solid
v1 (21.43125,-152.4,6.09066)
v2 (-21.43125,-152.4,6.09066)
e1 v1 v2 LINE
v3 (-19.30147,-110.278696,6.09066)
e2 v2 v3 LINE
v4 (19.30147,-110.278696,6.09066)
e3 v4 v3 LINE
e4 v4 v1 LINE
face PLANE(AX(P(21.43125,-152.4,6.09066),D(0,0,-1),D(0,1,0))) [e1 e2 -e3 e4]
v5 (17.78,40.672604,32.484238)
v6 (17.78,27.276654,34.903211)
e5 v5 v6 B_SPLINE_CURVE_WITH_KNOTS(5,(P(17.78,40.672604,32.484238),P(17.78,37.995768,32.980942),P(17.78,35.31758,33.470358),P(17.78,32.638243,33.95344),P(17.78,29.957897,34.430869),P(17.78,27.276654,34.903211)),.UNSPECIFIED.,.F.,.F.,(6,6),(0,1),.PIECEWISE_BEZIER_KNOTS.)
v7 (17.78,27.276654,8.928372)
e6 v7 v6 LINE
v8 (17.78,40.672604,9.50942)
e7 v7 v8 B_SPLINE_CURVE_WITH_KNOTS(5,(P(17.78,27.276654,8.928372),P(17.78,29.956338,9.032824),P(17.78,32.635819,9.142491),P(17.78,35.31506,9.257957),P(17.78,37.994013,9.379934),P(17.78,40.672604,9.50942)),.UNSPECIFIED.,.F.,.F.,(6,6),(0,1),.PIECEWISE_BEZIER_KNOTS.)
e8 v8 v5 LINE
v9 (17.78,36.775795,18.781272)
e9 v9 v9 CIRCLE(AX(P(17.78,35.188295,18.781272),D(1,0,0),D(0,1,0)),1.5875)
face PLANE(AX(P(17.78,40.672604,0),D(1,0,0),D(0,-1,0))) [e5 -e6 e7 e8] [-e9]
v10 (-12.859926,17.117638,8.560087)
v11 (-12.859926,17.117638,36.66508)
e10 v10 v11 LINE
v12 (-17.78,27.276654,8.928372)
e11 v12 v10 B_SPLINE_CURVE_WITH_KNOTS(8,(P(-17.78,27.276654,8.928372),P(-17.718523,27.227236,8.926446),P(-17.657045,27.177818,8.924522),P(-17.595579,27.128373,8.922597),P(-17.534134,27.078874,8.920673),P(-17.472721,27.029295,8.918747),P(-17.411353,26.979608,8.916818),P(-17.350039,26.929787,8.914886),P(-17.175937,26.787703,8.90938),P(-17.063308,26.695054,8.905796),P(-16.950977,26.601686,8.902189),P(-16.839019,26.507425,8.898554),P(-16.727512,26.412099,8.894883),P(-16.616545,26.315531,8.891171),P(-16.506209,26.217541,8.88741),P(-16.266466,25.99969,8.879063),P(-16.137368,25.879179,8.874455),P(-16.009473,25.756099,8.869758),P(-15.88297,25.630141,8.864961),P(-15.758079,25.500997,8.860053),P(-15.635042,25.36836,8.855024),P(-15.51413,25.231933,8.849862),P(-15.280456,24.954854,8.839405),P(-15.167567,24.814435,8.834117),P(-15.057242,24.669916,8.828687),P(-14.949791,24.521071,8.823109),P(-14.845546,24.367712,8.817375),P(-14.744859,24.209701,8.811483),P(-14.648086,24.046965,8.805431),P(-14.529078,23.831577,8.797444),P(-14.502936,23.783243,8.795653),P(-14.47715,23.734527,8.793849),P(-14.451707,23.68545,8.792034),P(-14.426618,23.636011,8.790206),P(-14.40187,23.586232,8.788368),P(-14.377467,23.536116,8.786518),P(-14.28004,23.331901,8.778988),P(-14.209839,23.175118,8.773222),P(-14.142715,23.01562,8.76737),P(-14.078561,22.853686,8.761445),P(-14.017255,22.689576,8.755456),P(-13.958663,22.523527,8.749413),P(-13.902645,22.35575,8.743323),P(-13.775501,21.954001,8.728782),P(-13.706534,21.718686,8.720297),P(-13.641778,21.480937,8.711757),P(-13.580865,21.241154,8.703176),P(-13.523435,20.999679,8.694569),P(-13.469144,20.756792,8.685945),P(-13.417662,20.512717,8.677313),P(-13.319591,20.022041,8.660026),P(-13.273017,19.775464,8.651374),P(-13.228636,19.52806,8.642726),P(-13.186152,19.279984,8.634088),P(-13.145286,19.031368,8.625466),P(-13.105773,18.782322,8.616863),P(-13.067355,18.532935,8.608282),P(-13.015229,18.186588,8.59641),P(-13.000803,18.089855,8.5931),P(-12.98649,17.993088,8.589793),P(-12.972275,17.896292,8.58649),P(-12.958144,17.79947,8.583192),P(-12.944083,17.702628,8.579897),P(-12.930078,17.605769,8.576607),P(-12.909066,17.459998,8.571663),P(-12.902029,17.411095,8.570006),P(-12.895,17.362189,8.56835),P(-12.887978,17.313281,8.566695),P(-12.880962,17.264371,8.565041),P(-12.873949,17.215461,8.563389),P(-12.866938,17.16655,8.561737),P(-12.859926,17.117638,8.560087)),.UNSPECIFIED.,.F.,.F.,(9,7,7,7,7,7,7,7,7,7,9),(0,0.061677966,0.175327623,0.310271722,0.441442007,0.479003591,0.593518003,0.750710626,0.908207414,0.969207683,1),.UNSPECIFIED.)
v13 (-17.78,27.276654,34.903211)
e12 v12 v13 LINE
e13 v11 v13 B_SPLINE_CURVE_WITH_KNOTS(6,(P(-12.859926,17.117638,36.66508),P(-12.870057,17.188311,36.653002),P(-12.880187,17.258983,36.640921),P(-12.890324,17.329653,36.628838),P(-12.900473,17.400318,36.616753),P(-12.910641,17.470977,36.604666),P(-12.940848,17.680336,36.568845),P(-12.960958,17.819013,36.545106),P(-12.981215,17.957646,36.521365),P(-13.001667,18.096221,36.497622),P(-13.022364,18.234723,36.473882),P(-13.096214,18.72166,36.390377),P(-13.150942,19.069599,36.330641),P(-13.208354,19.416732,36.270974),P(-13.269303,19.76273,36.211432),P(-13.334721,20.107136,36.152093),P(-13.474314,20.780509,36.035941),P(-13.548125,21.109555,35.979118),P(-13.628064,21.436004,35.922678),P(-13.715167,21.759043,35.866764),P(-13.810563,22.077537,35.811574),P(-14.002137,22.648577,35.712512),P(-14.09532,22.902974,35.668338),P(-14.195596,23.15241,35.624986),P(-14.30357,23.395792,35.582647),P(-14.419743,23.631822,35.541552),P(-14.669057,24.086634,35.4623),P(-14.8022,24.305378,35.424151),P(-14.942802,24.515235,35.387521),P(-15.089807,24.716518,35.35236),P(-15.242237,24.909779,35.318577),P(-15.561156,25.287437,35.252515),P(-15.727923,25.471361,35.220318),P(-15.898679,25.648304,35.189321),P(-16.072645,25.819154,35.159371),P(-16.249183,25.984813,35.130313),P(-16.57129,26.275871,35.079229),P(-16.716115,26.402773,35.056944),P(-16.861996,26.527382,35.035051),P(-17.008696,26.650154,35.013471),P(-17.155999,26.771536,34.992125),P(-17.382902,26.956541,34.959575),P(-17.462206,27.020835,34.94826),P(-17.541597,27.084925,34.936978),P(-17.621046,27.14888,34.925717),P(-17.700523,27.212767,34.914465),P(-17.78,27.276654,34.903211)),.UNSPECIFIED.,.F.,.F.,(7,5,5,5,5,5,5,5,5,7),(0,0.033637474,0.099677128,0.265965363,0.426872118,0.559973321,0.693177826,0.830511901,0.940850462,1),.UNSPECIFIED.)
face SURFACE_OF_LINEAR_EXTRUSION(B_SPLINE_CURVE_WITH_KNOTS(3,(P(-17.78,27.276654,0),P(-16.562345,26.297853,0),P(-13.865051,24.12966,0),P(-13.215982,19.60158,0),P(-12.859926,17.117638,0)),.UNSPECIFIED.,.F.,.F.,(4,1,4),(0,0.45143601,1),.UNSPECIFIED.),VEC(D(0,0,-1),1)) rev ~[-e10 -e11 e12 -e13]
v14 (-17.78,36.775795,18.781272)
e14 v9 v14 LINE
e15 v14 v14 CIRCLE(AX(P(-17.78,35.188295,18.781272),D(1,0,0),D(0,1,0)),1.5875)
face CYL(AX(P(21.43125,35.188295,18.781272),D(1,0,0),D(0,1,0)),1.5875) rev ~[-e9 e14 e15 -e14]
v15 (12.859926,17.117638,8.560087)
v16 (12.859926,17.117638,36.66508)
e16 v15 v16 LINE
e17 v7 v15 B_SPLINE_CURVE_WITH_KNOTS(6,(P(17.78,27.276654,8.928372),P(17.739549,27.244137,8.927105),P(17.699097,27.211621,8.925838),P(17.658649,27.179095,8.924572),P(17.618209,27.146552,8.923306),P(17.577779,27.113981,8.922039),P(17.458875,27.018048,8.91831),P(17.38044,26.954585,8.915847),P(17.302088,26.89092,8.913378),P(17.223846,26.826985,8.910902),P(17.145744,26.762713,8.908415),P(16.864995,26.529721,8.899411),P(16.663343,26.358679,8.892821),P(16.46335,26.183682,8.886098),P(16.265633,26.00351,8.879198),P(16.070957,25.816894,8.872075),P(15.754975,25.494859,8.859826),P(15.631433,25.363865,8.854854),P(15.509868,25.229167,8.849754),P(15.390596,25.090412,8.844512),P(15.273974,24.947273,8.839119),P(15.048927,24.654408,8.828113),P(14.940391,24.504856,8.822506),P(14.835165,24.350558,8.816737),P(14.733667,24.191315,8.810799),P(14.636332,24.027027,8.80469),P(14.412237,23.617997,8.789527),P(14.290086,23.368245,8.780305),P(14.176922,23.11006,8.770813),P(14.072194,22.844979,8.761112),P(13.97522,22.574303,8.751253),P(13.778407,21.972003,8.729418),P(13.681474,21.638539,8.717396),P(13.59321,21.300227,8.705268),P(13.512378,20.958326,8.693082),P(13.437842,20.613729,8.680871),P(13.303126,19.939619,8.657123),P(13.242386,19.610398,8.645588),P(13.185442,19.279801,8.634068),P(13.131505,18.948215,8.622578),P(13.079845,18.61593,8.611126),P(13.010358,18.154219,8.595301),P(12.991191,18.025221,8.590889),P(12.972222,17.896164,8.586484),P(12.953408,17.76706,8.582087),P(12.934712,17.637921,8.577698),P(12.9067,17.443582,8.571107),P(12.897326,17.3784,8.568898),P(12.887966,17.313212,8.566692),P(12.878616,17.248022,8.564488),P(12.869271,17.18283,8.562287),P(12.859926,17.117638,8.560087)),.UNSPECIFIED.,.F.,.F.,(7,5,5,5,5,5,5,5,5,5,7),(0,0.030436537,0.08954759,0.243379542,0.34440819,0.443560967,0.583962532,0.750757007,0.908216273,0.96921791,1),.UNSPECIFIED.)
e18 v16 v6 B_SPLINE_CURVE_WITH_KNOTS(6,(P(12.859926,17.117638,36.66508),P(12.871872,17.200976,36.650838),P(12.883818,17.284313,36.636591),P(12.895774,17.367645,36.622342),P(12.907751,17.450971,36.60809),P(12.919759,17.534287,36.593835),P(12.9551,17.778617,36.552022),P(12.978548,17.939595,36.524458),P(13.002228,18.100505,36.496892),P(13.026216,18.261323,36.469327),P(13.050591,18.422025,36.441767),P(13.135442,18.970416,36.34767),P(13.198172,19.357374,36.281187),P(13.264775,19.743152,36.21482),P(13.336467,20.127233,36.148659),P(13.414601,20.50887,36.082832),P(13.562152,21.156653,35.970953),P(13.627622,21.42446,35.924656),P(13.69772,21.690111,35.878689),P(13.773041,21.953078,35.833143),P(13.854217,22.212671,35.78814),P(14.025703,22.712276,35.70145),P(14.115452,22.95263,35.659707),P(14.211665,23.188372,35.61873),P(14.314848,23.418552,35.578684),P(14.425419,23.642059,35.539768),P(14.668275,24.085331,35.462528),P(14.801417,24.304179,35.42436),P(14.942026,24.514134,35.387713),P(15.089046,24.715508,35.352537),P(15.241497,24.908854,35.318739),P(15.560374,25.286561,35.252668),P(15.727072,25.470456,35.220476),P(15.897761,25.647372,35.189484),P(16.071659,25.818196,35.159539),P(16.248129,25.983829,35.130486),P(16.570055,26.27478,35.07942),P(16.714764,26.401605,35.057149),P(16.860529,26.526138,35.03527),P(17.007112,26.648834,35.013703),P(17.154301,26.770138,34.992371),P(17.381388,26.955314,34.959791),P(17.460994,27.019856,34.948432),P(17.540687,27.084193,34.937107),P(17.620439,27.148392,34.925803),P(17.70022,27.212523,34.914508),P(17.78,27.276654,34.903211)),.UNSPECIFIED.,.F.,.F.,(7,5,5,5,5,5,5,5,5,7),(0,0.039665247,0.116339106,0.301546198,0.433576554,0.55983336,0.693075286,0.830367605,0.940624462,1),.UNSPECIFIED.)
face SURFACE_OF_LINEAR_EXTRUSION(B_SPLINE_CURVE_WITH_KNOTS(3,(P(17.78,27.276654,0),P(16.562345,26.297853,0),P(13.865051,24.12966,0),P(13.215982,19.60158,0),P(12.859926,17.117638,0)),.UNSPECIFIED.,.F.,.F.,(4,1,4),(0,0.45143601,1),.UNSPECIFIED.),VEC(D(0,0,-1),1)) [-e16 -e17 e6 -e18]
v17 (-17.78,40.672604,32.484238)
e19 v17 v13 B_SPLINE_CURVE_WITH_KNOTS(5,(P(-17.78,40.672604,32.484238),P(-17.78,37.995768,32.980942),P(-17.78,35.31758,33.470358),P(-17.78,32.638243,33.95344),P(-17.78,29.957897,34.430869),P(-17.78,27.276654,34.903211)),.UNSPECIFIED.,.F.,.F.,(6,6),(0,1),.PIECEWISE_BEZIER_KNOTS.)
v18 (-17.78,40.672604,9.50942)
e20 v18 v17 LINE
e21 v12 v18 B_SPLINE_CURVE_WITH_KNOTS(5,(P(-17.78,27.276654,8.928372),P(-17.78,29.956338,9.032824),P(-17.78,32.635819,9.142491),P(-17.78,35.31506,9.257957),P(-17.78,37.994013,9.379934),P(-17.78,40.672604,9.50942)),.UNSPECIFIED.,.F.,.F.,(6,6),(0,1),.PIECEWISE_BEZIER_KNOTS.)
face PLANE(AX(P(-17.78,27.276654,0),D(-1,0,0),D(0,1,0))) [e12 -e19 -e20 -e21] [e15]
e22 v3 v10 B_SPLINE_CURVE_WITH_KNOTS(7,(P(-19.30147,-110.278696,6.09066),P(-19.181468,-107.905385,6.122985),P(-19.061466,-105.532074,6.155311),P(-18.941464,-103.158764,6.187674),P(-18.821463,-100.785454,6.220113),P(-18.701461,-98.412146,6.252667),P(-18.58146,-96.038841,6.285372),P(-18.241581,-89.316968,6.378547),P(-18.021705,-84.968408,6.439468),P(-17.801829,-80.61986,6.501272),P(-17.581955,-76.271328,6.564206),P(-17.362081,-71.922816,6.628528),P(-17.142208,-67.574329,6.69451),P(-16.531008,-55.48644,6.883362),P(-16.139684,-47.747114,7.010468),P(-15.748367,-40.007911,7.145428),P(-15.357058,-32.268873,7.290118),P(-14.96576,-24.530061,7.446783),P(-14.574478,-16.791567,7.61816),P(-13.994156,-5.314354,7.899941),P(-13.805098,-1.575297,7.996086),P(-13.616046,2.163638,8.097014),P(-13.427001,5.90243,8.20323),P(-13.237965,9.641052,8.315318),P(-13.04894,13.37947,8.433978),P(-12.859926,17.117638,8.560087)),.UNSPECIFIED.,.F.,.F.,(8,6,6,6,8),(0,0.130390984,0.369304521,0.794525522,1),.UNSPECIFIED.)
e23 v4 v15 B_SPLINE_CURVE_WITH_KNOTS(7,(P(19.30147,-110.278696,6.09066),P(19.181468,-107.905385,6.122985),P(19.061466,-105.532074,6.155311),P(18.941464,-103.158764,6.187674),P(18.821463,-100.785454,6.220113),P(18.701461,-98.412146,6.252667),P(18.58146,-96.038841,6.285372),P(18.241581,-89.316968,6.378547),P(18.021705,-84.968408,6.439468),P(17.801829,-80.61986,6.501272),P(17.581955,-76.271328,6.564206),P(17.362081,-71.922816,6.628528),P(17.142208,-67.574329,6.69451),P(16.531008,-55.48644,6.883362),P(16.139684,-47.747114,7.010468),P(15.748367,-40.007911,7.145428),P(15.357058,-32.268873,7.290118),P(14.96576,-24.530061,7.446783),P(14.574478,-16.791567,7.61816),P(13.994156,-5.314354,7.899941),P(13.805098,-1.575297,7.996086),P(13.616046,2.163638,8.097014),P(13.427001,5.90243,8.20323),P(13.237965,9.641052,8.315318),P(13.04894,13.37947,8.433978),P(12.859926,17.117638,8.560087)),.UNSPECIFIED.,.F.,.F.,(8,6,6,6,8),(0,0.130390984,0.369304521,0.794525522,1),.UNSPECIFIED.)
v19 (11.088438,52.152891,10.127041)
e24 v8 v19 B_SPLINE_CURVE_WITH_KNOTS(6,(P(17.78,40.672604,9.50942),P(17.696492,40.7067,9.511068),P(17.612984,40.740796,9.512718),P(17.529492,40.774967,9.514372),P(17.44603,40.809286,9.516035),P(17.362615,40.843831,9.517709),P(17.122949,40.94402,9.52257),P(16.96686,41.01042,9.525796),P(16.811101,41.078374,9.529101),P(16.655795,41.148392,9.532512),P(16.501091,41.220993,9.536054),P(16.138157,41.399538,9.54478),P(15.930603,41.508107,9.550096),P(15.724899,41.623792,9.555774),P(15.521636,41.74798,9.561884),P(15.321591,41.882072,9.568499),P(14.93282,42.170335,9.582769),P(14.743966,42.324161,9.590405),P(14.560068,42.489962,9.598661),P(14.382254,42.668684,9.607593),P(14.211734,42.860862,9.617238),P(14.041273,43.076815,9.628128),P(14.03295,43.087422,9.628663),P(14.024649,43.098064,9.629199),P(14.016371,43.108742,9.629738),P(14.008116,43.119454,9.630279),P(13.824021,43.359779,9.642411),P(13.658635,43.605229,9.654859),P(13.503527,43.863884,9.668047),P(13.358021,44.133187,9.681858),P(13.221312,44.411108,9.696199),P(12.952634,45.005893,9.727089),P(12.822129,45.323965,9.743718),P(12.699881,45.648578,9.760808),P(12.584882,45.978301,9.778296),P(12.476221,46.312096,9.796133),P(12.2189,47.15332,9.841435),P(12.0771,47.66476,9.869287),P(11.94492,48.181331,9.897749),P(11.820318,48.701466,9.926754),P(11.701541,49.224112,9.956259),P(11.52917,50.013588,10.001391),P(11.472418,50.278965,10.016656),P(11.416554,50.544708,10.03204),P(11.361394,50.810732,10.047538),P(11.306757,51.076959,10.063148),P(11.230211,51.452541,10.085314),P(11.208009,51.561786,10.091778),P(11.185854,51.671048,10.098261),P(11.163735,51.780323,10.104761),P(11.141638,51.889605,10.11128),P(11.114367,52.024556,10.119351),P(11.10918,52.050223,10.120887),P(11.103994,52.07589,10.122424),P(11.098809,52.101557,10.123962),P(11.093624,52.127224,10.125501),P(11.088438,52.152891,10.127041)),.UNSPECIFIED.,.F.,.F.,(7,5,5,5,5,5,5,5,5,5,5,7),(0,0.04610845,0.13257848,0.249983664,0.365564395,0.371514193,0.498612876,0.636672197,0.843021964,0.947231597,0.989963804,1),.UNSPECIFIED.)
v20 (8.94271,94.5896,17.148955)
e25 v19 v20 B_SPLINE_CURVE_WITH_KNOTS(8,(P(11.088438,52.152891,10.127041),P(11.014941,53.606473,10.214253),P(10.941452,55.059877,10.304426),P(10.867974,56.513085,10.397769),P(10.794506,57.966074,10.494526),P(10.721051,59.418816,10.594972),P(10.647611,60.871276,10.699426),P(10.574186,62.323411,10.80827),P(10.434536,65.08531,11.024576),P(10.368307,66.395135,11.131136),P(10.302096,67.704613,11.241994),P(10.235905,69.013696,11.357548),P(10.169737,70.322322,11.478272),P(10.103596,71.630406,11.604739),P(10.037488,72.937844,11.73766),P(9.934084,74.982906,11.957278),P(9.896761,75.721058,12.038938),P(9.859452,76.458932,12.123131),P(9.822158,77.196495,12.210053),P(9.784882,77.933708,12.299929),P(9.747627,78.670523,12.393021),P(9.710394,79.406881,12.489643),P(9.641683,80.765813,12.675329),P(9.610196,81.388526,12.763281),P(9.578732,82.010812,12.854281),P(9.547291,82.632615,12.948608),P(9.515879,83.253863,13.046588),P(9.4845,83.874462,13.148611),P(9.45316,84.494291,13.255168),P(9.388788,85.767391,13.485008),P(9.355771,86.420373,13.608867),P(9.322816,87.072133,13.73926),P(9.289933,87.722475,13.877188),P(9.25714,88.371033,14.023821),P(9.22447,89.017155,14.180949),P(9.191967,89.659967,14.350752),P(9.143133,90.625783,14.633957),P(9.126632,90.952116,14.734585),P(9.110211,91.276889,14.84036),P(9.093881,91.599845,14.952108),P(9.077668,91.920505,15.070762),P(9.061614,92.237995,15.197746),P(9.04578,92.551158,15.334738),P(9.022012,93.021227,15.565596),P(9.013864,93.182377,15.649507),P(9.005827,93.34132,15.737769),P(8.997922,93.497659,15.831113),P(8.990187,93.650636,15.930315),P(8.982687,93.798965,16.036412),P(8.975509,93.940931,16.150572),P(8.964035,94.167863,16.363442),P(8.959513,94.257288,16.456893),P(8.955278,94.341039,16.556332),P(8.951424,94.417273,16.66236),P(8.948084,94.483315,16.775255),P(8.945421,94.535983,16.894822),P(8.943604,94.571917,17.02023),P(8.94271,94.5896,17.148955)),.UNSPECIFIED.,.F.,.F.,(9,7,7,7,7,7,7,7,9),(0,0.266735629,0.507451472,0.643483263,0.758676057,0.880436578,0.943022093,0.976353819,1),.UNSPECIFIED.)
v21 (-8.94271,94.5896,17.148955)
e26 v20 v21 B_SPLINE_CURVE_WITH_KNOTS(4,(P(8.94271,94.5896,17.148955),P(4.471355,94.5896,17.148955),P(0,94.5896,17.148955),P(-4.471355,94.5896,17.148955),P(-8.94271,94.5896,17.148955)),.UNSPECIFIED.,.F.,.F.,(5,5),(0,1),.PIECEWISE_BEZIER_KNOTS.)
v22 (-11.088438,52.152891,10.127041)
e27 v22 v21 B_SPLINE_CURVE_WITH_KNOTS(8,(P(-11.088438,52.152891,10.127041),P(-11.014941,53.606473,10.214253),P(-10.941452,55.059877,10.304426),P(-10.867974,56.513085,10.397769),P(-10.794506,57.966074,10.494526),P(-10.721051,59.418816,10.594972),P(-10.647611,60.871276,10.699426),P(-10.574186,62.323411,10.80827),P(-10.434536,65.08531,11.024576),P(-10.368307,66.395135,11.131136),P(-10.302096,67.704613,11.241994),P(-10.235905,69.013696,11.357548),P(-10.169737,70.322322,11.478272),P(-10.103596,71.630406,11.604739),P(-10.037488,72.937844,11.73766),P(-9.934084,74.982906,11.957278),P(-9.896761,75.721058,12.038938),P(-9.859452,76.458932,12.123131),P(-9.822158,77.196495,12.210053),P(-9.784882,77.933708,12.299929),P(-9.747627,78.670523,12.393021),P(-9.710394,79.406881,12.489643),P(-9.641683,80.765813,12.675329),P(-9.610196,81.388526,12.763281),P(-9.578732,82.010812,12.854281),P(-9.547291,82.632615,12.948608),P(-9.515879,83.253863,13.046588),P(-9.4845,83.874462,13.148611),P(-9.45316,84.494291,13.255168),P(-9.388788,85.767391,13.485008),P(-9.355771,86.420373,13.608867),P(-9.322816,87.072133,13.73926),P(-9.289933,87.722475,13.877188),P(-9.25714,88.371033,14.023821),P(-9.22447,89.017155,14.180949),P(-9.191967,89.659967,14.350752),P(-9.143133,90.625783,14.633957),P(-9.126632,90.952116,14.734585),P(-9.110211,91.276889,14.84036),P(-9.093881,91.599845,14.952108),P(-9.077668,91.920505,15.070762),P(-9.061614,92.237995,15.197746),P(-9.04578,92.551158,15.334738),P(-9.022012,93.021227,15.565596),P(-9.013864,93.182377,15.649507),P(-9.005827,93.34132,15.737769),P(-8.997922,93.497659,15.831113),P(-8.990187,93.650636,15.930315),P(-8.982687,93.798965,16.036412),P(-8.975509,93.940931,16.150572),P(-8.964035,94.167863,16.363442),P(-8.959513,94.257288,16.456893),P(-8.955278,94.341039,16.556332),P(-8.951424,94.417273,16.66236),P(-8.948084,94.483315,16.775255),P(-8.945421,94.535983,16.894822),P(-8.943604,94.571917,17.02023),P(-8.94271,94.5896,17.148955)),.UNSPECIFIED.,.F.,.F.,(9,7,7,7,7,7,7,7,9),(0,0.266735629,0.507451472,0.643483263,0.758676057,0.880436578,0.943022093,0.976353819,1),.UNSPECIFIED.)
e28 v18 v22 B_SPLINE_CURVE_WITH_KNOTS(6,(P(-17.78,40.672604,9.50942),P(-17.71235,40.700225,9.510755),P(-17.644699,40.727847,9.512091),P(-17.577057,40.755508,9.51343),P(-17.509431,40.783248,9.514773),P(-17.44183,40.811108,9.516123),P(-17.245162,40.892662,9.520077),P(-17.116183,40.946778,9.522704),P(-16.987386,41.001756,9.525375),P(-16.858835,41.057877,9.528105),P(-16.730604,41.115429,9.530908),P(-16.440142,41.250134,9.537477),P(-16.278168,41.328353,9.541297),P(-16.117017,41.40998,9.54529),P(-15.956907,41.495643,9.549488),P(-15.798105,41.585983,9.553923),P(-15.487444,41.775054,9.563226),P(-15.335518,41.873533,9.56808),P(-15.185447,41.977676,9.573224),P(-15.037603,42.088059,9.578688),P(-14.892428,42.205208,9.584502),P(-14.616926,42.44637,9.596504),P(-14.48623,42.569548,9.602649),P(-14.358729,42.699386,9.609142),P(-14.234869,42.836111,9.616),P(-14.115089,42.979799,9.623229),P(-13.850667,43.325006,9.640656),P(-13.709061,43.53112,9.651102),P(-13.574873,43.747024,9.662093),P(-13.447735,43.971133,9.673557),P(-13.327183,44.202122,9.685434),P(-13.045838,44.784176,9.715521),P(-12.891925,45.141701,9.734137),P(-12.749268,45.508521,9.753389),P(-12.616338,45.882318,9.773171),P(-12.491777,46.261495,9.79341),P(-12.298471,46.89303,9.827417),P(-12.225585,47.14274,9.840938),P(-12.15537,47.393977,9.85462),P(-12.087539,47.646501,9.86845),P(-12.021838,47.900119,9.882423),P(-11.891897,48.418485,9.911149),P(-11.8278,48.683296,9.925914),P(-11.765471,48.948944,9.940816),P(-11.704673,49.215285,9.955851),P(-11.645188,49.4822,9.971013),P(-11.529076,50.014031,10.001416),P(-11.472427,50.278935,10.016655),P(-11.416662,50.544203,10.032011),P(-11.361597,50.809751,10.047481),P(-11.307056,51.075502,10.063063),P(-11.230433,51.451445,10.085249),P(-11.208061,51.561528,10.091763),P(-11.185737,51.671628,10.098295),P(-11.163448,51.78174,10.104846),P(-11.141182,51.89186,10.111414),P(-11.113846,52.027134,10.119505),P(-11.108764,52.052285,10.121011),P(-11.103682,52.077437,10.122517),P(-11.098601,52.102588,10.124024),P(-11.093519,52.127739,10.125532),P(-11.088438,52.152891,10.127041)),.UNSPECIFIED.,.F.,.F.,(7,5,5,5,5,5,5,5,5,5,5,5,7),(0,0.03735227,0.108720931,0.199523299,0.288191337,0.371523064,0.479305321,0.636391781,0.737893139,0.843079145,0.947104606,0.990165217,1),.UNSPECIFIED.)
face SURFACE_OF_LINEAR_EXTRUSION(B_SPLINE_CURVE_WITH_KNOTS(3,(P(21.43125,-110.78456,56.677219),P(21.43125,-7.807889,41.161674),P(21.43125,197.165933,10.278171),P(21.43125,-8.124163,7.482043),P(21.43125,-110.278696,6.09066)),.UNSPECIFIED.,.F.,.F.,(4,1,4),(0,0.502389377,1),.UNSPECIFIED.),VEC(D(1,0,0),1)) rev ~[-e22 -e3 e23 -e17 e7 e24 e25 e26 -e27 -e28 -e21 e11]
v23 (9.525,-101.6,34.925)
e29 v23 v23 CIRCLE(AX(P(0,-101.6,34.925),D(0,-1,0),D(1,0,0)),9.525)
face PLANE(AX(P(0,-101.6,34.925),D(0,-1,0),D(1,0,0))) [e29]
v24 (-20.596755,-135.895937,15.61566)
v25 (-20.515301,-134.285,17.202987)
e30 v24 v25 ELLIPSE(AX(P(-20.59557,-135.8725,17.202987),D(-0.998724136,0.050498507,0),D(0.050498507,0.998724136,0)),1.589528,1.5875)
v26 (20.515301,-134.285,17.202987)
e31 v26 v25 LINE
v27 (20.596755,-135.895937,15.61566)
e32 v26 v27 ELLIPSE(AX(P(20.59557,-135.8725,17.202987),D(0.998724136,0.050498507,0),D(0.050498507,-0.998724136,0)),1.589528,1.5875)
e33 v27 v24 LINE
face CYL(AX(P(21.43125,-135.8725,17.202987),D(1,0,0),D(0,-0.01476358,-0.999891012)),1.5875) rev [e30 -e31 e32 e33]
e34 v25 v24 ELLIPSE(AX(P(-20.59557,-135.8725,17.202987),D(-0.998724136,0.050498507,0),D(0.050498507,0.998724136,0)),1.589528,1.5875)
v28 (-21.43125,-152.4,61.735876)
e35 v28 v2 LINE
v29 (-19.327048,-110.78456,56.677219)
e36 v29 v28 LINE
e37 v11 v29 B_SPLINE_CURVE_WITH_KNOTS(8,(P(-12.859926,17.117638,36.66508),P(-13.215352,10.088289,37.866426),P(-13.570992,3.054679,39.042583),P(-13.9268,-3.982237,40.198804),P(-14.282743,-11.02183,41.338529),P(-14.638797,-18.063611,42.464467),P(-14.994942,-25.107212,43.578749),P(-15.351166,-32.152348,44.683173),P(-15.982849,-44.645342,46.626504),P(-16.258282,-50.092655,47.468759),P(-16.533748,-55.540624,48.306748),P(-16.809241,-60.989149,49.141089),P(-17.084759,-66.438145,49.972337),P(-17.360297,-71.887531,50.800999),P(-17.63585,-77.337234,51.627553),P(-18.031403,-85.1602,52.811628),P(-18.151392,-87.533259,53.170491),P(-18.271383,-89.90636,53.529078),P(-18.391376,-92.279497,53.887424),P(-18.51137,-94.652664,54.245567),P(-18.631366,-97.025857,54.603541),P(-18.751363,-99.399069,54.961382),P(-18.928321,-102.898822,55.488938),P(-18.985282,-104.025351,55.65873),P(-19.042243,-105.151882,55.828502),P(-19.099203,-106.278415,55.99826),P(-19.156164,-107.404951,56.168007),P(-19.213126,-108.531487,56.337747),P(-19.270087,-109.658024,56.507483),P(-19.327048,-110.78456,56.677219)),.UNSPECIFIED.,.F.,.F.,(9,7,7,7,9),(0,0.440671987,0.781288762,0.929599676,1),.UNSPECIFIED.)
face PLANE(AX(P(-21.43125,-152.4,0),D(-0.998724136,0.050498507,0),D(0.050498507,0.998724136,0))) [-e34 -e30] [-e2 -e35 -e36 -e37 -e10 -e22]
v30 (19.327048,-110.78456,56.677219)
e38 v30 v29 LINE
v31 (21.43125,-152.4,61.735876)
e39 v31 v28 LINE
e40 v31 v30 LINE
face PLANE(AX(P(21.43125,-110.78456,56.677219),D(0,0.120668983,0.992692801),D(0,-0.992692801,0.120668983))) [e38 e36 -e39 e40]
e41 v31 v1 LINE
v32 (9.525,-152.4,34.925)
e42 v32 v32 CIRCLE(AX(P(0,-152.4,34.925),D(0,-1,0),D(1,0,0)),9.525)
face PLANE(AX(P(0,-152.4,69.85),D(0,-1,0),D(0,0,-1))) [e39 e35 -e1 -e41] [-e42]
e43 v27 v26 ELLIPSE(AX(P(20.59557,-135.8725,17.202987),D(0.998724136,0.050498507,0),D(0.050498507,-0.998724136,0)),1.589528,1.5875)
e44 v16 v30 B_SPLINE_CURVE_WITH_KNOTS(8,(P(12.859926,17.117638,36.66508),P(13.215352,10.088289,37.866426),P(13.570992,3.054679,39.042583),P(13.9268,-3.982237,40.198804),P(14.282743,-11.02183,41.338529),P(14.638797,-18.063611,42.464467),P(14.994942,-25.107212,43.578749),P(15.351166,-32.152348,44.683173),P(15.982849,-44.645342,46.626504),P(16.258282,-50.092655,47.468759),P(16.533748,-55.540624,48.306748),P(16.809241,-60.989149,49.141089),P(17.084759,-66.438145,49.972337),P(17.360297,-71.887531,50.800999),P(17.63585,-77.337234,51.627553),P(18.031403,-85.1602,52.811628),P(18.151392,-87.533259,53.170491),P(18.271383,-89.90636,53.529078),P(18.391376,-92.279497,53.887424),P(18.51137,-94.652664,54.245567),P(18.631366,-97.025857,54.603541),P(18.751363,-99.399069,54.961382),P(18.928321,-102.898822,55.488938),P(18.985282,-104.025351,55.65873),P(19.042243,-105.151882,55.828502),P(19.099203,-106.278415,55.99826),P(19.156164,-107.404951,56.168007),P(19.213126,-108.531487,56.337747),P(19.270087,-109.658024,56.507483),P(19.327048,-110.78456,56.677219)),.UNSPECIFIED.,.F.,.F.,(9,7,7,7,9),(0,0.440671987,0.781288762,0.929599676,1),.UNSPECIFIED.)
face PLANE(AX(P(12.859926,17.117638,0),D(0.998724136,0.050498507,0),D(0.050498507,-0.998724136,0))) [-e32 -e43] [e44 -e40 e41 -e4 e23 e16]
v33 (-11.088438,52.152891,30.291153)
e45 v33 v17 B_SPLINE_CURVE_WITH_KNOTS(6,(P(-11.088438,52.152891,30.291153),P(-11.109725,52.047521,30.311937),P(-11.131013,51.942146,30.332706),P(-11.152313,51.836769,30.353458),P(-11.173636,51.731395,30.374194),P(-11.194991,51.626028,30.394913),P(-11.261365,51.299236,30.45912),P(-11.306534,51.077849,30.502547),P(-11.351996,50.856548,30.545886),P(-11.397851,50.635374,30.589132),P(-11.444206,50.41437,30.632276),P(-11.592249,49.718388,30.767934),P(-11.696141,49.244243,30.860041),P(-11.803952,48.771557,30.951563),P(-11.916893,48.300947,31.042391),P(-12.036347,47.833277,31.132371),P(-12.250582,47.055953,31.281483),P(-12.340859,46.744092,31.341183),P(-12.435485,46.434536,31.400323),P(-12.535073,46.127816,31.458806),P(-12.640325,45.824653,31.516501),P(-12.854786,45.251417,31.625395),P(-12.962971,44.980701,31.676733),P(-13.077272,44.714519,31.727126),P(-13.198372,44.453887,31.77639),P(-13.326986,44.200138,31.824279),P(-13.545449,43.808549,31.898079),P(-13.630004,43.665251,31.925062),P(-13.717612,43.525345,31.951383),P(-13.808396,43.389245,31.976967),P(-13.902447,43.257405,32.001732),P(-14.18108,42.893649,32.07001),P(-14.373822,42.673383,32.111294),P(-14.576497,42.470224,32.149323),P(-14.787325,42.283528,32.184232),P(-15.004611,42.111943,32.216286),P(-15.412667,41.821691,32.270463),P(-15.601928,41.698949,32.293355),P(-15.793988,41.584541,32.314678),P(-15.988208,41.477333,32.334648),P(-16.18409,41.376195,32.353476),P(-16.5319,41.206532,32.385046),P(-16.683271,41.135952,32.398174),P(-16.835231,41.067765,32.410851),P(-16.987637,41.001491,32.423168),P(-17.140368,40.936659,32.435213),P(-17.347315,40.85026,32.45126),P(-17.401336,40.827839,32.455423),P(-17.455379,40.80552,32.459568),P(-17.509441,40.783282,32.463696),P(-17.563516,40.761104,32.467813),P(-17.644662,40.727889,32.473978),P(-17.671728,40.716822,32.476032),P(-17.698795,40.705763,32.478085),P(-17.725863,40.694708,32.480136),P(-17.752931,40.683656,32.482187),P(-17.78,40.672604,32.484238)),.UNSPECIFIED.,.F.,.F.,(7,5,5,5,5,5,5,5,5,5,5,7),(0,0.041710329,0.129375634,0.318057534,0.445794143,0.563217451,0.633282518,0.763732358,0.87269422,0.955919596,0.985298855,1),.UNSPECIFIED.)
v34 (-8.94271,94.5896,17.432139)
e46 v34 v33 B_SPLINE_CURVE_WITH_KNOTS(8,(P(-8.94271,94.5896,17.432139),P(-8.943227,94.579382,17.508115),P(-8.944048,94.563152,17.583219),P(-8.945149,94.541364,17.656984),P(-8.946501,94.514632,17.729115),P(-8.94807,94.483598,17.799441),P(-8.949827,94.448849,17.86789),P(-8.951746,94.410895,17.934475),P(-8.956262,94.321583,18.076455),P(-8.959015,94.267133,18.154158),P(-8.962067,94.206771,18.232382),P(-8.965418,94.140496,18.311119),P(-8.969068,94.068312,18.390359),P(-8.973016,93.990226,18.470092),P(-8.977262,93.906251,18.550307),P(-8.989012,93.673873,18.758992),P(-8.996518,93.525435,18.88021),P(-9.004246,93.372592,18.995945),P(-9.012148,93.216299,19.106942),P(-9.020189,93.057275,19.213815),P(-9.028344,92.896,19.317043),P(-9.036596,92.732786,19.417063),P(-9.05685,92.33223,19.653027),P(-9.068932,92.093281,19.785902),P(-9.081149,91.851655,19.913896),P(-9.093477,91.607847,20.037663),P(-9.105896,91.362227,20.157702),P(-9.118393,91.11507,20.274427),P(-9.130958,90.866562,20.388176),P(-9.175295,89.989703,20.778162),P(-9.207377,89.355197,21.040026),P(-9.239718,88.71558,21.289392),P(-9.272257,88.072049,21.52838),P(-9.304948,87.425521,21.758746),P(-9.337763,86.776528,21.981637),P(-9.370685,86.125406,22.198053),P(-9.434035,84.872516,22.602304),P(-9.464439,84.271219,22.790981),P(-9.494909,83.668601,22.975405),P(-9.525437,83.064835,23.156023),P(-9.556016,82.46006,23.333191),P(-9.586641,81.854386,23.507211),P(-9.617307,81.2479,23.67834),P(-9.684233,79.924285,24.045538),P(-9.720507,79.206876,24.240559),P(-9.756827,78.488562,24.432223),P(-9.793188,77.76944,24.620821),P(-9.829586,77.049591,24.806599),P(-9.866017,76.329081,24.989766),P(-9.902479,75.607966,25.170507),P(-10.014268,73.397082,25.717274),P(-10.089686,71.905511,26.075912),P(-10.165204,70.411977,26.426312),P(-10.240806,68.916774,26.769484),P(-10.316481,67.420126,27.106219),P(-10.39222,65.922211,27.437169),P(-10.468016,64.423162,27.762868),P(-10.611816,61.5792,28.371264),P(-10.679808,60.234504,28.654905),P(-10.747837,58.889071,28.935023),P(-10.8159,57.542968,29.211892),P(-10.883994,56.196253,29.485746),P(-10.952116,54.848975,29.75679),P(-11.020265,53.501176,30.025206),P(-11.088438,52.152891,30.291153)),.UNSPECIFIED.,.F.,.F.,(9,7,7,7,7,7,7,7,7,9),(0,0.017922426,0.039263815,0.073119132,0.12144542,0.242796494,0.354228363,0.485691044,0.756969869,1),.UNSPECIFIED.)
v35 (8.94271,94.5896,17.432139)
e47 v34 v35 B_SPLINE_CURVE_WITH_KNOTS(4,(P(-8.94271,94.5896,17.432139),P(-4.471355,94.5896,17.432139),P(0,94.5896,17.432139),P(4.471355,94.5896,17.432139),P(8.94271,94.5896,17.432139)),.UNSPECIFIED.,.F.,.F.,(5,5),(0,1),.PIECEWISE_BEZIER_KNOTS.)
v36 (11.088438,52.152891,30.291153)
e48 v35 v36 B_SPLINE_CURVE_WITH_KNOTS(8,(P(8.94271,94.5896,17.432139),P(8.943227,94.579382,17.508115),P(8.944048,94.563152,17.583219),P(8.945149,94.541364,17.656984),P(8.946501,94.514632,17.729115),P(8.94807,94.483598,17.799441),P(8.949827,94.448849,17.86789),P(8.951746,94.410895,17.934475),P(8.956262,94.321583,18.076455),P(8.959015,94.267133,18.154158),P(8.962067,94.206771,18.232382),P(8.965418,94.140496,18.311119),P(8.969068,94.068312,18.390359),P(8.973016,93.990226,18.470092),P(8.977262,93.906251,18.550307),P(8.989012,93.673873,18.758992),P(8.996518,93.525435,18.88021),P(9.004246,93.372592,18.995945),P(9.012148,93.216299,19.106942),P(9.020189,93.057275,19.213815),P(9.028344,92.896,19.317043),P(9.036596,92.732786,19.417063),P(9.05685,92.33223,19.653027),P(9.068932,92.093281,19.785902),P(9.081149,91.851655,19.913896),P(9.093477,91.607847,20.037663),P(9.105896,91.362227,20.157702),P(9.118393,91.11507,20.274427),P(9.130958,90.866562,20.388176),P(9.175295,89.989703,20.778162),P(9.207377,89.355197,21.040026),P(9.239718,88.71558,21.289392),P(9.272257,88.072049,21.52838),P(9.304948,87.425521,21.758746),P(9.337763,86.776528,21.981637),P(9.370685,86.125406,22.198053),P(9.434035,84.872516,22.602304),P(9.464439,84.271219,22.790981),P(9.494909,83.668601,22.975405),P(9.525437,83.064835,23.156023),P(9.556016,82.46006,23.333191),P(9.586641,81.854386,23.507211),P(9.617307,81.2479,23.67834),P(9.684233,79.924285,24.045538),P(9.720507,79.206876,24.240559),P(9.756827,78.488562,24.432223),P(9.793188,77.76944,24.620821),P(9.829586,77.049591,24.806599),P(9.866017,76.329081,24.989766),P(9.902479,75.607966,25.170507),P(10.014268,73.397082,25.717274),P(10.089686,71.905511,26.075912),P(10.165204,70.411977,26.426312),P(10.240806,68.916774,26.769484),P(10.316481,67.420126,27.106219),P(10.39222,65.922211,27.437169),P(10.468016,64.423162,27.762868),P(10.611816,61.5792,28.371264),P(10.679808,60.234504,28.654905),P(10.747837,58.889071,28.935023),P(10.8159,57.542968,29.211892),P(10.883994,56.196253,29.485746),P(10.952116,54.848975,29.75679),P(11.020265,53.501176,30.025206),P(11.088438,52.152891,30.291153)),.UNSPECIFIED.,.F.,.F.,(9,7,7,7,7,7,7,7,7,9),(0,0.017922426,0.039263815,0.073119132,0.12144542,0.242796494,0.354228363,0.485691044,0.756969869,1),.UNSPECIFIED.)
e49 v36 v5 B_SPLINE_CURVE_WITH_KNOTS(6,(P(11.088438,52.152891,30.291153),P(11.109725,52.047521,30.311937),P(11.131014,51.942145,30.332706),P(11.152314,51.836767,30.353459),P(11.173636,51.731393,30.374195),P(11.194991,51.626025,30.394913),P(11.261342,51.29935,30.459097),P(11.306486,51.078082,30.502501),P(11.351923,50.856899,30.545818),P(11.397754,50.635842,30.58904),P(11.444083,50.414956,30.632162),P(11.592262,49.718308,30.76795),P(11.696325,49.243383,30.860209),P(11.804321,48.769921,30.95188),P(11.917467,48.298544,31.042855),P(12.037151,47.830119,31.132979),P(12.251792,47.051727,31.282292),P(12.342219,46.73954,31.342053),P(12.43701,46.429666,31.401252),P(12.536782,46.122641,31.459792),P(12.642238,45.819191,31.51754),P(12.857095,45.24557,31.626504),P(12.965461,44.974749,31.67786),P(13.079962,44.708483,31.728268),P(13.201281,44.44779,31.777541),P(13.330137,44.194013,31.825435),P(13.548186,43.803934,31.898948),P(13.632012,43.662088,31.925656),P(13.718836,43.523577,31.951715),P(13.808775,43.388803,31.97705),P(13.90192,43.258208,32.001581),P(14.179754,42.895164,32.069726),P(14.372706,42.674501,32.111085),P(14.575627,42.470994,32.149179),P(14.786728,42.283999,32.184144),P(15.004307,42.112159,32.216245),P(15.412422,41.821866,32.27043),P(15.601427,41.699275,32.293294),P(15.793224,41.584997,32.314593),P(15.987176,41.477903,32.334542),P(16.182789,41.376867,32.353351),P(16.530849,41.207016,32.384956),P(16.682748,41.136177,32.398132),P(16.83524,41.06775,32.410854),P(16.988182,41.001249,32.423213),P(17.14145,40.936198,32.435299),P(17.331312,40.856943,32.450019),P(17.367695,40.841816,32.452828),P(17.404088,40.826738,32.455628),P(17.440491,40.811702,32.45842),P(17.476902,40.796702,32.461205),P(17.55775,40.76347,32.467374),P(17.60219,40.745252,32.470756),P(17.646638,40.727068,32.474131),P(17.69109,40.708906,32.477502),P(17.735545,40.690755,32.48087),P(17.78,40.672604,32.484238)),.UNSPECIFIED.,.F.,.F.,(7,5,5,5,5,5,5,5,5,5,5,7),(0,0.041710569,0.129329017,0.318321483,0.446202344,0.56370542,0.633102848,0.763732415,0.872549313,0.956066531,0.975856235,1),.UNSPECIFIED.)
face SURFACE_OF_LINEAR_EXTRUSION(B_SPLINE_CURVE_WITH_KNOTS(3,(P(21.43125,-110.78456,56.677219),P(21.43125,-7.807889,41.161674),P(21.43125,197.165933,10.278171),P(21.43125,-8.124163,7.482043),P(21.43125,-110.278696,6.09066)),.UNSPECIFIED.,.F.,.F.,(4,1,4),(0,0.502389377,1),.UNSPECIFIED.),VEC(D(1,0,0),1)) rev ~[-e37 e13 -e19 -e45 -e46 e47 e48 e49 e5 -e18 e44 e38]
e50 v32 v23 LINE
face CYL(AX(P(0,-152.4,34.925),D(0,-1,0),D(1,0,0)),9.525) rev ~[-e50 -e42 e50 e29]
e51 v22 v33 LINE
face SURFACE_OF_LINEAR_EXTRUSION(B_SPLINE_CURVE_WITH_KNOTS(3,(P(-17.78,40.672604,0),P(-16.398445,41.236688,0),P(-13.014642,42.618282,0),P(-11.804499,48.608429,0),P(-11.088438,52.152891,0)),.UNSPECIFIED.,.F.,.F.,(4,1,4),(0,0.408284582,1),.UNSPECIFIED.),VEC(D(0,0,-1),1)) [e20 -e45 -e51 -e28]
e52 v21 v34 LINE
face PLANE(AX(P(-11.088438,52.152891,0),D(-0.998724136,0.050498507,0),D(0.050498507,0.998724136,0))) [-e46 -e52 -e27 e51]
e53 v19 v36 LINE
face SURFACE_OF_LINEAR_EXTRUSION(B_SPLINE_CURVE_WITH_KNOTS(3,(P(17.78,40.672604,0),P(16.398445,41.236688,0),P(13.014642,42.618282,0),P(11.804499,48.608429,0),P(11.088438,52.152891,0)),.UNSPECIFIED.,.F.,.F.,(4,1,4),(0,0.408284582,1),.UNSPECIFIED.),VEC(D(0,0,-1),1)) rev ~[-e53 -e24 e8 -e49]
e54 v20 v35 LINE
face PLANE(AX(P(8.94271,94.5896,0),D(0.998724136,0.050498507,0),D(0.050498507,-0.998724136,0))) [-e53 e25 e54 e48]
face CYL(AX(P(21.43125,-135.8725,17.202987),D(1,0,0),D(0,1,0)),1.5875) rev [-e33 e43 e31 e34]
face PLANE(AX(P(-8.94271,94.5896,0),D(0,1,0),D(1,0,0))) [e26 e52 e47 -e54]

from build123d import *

# Parameters (mm, degrees)
F1_DEPTH = 21.43125
F2_R     = 9.525
F3_DEPTH = 50.8
F4_R     = 1.5875
F6_DEPTH = 42.8635
F7_DEPTH = 61.7368760046


with BuildPart() as f1:
    # F0 (on Right) → F1 (new body, symmetric)
    with BuildSketch(Plane.YZ):
        Polygon((-152.4, 69.85), (-152.4, 0), (152.4, 0), (152.4, 19.05), align=None)
    extrude(amount=F1_DEPTH, both=True)

    # F2 (on face) → F3 (cut)
    with BuildSketch(Plane.XZ.offset(152.4)):
        with Locations((0, 34.925)):
            Circle(F2_R)
    extrude(amount=-F3_DEPTH, mode=Mode.SUBTRACT)

    # F4 (on face) → F6 (intersect, through all)
    with BuildSketch(Plane.YZ.offset(21.43125)):
        with BuildLine():
            add(Edge.make_bspline(
                [(-110.784560442, 56.6772185266), (-7.8078894531, 41.1616744021), (197.1659329213, 10.2781708389), (-8.1241632402, 7.4820430193), (-110.2786958218, 6.0906601138)],
                knots=[0, 0, 0, 0, 0.5023893773, 1, 1, 1, 1], degree=3))
            Line((-110.784560442, 56.6772185266), (-152.4, 61.7358759046))
            Line((-152.4, 61.7358759046), (-152.4, 6.0906601138))
            Line((-152.4, 6.0906601138), (-135.8959368267, 6.0906601138))
            Line((-135.8959368267, 6.0906601138), (-110.2786958218, 6.0906601138))
        make_face()
        with BuildLine():
            ThreePointArc((-134.2849996434, 17.202987096), (-134.7582847356, 16.0721991454), (-135.8959368267, 15.6156601138))
            ThreePointArc((-135.8959368267, 15.6156601138), (-136.9867145512, 18.3337750467), (-134.2849996434, 17.202987096))
        make_face(mode=Mode.SUBTRACT)
        with Locations((35.1882949471, 18.7812717256)):
            Circle(F4_R, mode=Mode.SUBTRACT)
    extrude(amount=-F6_DEPTH, mode=Mode.INTERSECT)

    # F5 (on face) → F7 (intersect, through all)
    with BuildSketch(Plane(origin=(0, 0, 0), x_dir=(1, 0, 0), z_dir=(0, 0, -1))):
        with BuildLine():
            Line((21.43125, 152.4), (-21.43125, 152.4))
            Line((-21.43125, 152.4), (-12.8599264801, -17.1176383792))
            add(Edge.make_bspline(
                [(-17.78, -27.2766537964), (-16.5623446124, -26.2978531998), (-13.865051172, -24.1296597555), (-13.2159822939, -19.6015799215), (-12.8599264801, -17.1176383792)],
                knots=[0, 0, 0, 0, 0.4514360097, 1, 1, 1, 1], degree=3))
            Line((-17.78, -27.2766537964), (-17.78, -40.6726039946))
            add(Edge.make_bspline(
                [(-17.78, -40.6726039946), (-16.3984452114, -41.2366877132), (-13.0146417293, -42.6182821799), (-11.8044986652, -48.6084287427), (-11.0884383555, -52.1528908229)],
                knots=[0, 0, 0, 0, 0.4082845815, 1, 1, 1, 1], degree=3))
            Line((-11.0884383555, -52.1528908229), (-8.9427102357, -94.5896))
            Line((-8.9427102357, -94.5896), (8.9427102357, -94.5896))
            Line((8.9427102357, -94.5896), (11.0884383555, -52.1528908229))
            add(Edge.make_bspline(
                [(17.78, -40.6726039946), (16.3984452114, -41.2366877132), (13.0146417293, -42.6182821799), (11.8044986652, -48.6084287427), (11.0884383555, -52.1528908229)],
                knots=[0, 0, 0, 0, 0.4082845815, 1, 1, 1, 1], degree=3))
            Line((17.78, -40.6726039946), (17.78, -27.2766537964))
            add(Edge.make_bspline(
                [(17.78, -27.2766537964), (16.5623446124, -26.2978531998), (13.865051172, -24.1296597555), (13.2159822939, -19.6015799215), (12.8599264801, -17.1176383792)],
                knots=[0, 0, 0, 0, 0.4514360097, 1, 1, 1, 1], degree=3))
            Line((12.8599264801, -17.1176383792), (21.43125, 152.4))
        make_face()
    extrude(amount=-F7_DEPTH, mode=Mode.INTERSECT)


solid = f1.part
